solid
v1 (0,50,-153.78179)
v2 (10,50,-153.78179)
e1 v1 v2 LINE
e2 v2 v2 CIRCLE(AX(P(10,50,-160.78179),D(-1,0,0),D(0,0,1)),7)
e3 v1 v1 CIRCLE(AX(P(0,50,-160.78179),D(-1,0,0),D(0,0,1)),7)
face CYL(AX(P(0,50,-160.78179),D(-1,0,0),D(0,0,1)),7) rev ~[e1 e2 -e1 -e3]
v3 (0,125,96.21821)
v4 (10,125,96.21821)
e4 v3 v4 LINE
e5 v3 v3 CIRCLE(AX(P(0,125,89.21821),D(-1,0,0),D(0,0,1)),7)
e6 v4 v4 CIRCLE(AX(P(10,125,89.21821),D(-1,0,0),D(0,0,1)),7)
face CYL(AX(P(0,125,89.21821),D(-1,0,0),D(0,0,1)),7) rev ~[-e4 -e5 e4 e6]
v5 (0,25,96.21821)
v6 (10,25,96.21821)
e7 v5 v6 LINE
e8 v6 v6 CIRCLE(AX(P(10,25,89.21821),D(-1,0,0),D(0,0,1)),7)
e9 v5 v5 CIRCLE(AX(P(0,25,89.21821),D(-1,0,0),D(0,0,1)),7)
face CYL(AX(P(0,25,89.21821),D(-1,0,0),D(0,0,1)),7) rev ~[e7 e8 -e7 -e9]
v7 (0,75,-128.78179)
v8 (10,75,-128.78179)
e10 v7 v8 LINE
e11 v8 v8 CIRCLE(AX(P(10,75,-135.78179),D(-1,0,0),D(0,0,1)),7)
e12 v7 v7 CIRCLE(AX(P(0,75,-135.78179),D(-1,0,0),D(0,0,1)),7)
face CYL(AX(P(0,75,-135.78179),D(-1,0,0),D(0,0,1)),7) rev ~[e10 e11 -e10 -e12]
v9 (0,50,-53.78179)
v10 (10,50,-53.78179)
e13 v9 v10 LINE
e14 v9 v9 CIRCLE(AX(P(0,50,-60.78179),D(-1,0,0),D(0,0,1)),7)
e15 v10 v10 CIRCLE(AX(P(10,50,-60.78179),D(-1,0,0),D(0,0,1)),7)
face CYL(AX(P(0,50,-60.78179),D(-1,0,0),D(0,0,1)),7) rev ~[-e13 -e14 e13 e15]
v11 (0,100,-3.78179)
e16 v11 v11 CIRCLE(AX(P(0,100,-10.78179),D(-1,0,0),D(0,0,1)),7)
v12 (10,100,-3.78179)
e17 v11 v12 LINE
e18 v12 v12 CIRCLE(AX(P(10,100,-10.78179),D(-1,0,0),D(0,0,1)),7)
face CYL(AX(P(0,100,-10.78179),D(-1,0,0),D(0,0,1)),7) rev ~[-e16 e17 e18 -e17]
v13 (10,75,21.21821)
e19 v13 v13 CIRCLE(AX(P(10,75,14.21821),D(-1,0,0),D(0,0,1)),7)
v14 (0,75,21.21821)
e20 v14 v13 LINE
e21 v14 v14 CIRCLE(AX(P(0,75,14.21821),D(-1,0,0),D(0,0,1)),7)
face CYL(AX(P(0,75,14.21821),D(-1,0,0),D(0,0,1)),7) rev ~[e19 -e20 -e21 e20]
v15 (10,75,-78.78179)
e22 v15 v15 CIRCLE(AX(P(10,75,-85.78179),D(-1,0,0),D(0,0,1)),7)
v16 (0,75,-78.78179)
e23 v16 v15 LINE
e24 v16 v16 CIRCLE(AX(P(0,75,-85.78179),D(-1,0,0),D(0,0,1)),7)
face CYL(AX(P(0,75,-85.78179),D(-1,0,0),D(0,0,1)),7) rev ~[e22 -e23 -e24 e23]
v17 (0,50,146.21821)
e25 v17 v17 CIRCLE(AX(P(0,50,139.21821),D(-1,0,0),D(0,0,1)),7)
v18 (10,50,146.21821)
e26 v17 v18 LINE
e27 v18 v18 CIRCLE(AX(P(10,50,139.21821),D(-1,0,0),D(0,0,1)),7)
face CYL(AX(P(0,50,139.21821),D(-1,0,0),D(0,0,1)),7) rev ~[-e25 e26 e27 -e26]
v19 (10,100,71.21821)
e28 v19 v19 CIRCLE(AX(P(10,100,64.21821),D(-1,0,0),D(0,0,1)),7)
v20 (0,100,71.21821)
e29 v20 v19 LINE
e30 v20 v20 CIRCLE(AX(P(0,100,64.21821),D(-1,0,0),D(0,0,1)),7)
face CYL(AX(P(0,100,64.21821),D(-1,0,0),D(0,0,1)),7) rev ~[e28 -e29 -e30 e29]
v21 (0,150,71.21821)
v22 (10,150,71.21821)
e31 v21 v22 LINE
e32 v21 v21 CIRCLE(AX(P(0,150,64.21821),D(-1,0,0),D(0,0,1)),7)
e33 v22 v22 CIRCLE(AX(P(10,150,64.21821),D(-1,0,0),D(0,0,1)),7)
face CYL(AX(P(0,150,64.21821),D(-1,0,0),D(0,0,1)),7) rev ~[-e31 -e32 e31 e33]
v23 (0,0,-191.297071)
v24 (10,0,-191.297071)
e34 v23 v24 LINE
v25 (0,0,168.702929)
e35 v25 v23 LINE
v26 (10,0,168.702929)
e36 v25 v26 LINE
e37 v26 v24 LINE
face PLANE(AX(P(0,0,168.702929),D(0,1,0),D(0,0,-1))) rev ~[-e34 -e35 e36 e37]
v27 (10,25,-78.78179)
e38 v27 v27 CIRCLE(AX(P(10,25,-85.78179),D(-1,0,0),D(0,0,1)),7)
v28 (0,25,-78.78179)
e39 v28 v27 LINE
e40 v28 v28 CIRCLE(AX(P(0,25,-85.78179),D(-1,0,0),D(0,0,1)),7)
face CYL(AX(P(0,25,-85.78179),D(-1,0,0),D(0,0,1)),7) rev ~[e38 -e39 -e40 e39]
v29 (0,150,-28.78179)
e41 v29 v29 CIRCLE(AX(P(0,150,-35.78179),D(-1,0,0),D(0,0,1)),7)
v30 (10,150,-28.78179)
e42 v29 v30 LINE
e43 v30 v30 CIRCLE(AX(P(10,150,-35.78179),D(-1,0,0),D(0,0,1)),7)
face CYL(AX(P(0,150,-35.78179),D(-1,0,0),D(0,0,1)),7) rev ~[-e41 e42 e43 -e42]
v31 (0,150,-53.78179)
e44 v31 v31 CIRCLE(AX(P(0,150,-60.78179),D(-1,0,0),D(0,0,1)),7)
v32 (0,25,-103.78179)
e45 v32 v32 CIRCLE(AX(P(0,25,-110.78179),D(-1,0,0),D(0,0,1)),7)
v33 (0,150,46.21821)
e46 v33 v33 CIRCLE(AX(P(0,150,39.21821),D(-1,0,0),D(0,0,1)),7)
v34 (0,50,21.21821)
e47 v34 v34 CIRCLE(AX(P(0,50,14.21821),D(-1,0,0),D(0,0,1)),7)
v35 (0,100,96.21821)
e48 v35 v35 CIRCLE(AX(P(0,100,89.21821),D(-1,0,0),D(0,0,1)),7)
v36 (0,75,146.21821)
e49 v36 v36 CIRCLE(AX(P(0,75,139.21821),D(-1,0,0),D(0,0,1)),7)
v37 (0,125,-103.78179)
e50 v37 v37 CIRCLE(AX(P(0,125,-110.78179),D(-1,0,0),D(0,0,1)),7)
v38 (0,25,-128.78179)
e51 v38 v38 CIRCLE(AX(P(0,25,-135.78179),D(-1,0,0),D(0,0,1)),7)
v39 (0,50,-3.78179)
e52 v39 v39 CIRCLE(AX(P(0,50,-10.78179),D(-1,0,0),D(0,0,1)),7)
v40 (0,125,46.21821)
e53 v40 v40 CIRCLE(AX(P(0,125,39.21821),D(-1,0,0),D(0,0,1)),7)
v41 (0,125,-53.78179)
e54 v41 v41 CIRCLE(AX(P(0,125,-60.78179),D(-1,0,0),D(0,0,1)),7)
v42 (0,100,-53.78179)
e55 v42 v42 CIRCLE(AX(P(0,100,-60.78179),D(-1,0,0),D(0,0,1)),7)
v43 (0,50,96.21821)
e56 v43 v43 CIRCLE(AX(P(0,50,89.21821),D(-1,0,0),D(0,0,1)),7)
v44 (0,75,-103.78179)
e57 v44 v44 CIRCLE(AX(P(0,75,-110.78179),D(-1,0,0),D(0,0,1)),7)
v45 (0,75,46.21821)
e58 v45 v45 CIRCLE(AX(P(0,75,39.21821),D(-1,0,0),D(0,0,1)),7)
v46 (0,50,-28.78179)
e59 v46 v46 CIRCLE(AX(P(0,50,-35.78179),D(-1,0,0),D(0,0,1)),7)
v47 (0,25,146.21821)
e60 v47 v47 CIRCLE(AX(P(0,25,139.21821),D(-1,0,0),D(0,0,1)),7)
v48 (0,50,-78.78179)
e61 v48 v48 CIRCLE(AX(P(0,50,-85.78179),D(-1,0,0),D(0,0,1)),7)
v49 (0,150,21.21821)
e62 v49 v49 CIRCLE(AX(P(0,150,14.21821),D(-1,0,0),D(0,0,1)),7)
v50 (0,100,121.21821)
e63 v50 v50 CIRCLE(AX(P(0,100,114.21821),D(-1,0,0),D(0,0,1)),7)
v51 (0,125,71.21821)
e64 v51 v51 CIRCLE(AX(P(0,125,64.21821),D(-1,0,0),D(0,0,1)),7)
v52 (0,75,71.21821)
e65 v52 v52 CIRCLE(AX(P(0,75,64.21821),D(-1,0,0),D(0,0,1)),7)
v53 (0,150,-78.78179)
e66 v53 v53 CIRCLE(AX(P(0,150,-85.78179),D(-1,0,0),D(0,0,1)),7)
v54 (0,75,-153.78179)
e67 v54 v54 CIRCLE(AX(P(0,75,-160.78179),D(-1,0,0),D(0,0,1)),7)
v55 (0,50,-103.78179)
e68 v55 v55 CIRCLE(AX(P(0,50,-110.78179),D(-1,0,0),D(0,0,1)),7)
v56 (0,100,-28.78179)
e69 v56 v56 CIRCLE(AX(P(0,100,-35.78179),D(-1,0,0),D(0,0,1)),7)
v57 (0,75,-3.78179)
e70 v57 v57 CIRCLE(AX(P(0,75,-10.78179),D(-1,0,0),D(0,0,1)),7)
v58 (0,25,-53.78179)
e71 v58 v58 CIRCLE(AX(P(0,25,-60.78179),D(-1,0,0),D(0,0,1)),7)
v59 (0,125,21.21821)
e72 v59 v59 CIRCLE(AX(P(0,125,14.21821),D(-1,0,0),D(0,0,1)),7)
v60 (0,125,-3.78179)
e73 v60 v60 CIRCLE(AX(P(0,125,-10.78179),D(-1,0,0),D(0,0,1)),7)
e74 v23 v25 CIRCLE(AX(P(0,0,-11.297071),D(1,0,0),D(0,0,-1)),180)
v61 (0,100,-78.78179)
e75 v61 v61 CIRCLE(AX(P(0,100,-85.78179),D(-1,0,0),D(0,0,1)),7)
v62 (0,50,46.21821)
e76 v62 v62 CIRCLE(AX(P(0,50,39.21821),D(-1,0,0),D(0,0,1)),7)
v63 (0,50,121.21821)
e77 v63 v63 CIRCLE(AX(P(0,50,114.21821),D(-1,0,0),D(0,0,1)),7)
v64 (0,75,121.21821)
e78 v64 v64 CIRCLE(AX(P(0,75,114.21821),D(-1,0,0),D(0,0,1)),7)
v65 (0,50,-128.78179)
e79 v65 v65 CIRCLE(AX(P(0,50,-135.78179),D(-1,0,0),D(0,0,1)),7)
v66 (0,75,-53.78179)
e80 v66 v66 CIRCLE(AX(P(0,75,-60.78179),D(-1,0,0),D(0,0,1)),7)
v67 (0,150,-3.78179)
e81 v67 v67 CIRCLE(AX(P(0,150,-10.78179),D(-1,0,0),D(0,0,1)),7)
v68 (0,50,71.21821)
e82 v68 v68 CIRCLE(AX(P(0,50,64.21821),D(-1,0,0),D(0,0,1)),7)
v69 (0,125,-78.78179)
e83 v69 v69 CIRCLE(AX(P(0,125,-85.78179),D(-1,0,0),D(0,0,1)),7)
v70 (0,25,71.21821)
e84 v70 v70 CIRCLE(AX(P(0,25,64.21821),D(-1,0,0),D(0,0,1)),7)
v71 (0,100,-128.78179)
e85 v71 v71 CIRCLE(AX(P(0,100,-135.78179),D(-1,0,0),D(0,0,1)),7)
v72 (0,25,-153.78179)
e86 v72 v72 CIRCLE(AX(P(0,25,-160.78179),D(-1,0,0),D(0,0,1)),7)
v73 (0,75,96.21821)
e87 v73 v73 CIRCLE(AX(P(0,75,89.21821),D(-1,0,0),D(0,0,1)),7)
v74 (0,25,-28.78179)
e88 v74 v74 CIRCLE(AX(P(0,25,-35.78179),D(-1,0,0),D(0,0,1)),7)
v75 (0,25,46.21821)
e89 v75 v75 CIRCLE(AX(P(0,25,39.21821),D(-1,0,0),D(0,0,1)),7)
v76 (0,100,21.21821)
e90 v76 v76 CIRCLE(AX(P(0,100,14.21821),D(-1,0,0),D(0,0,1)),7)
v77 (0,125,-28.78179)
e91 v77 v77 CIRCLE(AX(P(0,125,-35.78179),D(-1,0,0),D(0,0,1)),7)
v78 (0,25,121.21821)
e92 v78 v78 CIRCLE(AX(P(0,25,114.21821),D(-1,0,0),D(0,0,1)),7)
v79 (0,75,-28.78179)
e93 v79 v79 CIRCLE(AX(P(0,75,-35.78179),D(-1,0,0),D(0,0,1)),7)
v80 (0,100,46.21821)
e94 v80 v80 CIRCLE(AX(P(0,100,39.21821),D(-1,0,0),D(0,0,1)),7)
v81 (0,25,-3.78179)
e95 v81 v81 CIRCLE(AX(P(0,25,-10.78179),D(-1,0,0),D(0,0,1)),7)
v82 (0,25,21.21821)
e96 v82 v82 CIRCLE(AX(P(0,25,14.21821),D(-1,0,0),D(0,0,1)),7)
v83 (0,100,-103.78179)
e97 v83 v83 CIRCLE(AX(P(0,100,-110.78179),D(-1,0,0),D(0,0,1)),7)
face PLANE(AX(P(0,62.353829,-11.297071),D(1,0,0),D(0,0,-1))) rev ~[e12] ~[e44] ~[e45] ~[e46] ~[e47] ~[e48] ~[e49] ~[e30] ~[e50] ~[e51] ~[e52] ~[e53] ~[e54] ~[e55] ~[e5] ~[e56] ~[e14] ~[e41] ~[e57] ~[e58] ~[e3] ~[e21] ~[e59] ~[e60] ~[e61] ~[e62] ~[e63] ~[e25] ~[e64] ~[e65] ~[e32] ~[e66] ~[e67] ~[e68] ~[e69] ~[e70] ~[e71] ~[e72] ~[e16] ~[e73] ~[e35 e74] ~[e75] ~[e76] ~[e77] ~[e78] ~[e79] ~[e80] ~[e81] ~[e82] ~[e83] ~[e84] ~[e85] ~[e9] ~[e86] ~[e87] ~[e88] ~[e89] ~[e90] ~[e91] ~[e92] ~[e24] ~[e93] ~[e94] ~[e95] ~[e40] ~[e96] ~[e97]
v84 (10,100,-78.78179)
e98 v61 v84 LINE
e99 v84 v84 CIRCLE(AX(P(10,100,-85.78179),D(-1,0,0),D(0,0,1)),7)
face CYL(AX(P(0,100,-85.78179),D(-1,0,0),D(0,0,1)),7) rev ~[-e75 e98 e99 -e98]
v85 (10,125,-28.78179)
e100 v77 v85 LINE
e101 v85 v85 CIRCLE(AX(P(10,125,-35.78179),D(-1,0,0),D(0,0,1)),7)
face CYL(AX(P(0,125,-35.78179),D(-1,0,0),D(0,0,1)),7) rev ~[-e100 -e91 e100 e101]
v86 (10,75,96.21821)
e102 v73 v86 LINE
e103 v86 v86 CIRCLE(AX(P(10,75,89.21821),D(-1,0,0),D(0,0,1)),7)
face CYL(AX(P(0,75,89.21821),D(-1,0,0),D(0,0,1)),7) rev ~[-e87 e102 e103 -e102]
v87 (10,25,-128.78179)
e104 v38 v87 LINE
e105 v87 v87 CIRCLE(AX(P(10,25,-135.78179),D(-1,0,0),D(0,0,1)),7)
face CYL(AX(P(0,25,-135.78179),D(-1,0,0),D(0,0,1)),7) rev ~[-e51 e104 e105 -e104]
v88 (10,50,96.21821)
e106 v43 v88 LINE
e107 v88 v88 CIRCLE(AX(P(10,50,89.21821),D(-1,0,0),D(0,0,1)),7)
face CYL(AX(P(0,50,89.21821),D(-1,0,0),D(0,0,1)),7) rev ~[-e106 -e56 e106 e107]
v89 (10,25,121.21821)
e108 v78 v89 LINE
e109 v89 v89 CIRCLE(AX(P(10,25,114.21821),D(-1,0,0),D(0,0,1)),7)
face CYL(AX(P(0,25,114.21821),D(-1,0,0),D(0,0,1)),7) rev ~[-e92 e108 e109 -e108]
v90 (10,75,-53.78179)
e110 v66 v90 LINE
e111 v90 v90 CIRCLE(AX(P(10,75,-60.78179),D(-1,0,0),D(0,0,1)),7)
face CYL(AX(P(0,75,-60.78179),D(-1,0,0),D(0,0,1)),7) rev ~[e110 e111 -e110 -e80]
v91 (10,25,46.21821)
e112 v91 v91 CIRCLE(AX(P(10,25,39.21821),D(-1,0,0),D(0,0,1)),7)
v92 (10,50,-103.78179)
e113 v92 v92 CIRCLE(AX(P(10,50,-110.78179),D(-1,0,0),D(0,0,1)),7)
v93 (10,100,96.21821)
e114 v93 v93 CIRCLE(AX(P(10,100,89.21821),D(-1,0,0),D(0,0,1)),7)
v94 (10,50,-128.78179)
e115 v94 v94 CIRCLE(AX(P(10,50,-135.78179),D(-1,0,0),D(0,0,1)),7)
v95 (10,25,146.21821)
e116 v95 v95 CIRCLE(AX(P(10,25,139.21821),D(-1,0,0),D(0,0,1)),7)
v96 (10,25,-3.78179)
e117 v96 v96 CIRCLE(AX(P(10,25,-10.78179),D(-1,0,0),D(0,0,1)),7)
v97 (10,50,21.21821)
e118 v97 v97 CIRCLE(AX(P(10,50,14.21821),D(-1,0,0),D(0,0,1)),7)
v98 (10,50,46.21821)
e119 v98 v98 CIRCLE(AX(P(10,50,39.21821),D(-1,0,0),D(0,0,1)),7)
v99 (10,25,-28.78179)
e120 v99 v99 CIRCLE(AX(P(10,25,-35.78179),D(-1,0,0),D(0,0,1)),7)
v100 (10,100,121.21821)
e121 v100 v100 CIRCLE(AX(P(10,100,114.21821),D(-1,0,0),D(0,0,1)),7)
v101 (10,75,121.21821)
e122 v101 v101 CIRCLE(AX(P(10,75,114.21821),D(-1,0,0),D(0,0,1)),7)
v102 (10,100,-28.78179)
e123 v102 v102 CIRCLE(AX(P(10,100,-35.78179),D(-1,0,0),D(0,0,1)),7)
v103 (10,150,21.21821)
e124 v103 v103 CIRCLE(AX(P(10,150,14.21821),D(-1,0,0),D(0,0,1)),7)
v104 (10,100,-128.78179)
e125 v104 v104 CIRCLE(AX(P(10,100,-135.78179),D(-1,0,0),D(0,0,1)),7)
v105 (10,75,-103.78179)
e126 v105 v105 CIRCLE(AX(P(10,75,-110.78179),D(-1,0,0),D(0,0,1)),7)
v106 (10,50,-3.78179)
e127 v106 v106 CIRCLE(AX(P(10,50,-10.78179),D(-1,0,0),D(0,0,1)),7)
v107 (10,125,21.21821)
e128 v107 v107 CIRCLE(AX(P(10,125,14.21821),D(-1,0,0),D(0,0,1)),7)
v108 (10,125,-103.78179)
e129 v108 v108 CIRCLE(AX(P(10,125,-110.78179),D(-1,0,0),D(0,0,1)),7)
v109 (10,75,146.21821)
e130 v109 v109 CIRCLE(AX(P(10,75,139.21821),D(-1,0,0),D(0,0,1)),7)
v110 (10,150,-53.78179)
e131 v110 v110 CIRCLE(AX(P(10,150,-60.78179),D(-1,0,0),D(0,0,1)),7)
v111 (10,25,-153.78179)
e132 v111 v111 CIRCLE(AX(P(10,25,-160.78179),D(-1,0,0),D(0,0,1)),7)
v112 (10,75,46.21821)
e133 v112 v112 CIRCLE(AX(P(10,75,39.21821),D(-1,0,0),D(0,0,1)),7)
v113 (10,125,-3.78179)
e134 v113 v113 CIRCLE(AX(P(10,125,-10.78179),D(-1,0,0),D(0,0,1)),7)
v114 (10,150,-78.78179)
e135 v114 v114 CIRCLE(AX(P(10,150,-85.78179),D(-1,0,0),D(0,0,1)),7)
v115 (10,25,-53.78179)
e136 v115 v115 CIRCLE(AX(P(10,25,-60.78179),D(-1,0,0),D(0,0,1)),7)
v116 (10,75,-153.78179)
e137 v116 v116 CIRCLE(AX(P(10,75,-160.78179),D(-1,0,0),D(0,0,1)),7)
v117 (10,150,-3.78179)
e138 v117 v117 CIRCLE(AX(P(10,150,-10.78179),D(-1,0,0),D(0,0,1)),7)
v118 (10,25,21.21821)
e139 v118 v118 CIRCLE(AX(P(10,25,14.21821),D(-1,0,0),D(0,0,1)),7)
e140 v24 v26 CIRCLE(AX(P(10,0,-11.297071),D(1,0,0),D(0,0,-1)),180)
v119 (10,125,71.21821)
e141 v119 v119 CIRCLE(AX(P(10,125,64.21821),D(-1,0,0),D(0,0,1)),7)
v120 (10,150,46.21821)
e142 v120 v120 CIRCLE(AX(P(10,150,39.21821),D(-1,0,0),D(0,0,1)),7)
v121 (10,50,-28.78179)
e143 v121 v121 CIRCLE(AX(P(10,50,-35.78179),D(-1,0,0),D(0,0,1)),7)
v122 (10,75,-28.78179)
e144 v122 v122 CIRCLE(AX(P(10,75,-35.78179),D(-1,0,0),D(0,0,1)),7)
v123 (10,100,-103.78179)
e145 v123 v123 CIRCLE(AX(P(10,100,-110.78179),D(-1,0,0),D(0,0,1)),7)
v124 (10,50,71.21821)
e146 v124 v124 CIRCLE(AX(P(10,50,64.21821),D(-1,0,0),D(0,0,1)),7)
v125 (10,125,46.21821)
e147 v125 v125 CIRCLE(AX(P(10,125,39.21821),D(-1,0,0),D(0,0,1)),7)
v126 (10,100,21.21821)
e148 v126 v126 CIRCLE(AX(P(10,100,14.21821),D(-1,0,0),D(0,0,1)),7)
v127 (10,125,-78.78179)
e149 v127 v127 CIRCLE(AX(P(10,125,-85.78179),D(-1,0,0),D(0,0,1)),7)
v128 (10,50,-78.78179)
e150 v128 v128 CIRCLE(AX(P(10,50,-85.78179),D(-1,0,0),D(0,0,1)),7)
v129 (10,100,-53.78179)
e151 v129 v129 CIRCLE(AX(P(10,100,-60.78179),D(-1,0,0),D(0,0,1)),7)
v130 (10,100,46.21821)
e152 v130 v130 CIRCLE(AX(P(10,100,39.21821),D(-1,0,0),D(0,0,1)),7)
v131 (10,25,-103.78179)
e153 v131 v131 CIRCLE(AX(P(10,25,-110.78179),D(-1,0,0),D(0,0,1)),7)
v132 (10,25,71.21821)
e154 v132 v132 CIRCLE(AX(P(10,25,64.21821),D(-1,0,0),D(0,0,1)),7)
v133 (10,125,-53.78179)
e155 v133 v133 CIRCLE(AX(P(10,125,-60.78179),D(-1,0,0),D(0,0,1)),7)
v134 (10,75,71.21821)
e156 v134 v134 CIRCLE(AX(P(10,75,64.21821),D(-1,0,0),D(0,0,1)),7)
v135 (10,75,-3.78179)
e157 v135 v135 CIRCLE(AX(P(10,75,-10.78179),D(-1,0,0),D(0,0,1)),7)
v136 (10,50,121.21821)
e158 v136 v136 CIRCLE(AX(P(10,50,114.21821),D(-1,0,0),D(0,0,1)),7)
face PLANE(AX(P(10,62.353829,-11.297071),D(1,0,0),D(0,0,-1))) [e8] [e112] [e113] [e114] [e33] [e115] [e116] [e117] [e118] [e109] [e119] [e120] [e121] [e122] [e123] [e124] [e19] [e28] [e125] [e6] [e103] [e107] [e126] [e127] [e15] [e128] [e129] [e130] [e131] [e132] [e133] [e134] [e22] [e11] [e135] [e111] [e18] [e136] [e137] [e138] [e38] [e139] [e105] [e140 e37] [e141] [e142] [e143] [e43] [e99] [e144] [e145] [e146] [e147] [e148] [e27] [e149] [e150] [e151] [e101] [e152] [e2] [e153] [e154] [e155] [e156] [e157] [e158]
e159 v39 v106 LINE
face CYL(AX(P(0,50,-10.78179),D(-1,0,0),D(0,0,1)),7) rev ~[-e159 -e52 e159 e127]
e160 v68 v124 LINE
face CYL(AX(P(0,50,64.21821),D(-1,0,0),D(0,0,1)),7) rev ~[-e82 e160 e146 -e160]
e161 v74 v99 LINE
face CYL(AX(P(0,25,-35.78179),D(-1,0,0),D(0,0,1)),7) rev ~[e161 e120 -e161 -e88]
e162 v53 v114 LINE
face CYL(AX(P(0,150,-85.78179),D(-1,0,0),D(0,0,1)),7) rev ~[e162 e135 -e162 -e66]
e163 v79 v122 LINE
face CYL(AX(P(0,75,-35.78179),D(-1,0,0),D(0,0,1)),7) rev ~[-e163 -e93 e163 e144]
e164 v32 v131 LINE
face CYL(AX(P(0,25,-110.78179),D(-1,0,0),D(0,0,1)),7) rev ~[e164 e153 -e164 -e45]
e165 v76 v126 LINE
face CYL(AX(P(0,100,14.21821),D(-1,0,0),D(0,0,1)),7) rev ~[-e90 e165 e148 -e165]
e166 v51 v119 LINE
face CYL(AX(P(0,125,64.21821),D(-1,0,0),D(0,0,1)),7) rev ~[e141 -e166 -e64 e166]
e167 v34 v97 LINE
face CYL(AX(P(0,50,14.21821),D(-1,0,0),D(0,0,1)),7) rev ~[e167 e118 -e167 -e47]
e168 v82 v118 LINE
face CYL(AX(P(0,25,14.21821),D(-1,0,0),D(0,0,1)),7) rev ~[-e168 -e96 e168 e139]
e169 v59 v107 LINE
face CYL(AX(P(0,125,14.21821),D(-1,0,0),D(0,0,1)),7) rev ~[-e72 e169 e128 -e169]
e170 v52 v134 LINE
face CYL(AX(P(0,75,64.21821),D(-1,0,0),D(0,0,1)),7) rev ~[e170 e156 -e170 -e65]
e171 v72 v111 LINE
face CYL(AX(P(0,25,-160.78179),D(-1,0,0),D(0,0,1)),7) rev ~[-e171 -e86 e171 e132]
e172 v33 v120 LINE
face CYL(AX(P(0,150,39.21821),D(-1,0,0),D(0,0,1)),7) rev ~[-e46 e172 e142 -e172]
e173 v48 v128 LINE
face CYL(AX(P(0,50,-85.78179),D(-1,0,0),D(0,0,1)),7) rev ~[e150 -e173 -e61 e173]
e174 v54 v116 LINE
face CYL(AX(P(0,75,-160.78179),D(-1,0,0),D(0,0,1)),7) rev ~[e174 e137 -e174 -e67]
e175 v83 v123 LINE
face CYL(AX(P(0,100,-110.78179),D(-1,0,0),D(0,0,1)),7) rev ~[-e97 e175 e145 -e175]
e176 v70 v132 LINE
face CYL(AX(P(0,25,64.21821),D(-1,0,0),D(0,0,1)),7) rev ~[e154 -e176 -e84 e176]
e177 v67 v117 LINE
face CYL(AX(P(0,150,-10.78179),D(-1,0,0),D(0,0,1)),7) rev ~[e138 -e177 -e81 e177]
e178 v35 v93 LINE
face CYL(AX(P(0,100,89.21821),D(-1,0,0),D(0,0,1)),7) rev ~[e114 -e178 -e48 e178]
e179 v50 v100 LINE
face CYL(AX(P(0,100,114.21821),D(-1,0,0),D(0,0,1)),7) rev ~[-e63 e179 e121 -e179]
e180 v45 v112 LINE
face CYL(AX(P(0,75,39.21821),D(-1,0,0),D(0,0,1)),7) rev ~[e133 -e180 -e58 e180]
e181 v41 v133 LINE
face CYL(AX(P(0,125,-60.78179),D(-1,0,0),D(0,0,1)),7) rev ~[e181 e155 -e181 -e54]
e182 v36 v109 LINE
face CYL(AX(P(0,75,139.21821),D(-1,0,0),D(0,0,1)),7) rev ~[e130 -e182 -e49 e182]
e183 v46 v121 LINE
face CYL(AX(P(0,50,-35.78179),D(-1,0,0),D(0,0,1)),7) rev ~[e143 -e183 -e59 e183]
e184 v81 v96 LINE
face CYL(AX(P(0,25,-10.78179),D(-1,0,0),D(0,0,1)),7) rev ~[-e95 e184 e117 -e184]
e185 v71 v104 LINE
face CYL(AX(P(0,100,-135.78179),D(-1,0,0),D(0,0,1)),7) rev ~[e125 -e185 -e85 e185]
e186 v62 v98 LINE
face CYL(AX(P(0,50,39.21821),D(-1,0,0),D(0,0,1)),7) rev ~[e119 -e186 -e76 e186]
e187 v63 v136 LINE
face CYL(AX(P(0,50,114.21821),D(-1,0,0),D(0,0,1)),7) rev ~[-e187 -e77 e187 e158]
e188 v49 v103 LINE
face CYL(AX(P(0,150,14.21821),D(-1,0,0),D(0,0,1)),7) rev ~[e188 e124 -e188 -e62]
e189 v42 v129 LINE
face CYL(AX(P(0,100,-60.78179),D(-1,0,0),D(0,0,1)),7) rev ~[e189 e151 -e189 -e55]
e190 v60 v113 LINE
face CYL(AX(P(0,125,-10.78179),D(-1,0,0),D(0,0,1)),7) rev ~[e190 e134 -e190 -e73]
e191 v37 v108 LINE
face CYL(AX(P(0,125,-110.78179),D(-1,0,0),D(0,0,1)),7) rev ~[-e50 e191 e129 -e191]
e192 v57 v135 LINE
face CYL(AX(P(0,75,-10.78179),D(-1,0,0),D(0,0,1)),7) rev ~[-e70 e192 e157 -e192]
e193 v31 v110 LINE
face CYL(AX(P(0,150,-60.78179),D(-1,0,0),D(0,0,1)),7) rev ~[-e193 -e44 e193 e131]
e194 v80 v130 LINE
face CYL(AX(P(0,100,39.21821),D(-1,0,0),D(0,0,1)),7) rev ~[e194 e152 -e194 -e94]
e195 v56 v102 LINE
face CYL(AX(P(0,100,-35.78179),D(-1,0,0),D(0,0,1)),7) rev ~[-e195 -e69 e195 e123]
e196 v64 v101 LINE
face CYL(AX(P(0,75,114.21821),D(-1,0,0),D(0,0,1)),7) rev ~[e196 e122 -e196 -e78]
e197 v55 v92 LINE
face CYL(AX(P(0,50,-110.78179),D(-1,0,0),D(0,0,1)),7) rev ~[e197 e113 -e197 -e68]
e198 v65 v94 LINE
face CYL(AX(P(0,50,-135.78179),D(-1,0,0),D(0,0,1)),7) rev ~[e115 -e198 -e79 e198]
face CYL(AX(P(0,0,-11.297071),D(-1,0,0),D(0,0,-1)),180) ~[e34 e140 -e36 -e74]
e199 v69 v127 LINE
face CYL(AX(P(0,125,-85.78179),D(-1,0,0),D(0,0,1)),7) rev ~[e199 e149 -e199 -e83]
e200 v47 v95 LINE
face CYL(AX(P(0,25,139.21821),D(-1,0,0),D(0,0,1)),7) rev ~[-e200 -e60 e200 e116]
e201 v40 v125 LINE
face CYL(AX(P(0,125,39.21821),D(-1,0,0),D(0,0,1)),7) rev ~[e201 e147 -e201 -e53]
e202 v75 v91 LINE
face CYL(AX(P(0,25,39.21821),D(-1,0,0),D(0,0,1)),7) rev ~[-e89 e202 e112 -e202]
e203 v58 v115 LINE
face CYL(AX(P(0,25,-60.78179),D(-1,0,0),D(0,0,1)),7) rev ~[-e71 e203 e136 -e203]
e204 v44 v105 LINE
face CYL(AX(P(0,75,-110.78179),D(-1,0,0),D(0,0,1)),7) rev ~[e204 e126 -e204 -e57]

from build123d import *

# Parameters (mm, degrees)
BOSS_EXTRUDE2_DEPTH = 10
SKETCH4_R           = 7
CUT_EXTRUDE2_DEPTH  = 10


with BuildPart() as part:
    # Sketch3 → Boss-Extrude2 (new body)
    with BuildSketch(Plane(origin=(0, 0, 0), x_dir=(0, 0, -1), z_dir=(1, 0, 0))):
        with BuildLine():
            Line((-168.70292887, 0), (191.29707113, 0))
            ThreePointArc((191.29707113, 0), (11.29707113, 180), (-168.70292887, 0))
        make_face()
    extrude(amount=BOSS_EXTRUDE2_DEPTH)

    # Sketch4 → Cut-Extrude2 (cut)
    with BuildSketch(Plane.ZY):
        with Locations((-160.781790175, 25)):
            Circle(SKETCH4_R)
        with Locations((-135.781790175, 25)):
            Circle(SKETCH4_R)
        with Locations((-110.781790175, 25)):
            Circle(SKETCH4_R)
        with Locations((-85.781790175, 25)):
            Circle(SKETCH4_R)
        with Locations((-60.781790175, 25)):
            Circle(SKETCH4_R)
        with Locations((-35.781790175, 25)):
            Circle(SKETCH4_R)
        with Locations((-10.781790175, 25)):
            Circle(SKETCH4_R)
        with Locations((14.218209825, 25)):
            Circle(SKETCH4_R)
        with Locations((39.218209825, 25)):
            Circle(SKETCH4_R)
        with Locations((64.218209825, 25)):
            Circle(SKETCH4_R)
        with Locations((89.218209825, 25)):
            Circle(SKETCH4_R)
        with Locations((114.218209825, 25)):
            Circle(SKETCH4_R)
        with Locations((139.218209825, 25)):
            Circle(SKETCH4_R)
        with Locations((-135.781790175, 50)):
            Circle(SKETCH4_R)
        with Locations((-110.781790175, 50)):
            Circle(SKETCH4_R)
        with Locations((-85.781790175, 50)):
            Circle(SKETCH4_R)
        with Locations((-60.781790175, 50)):
            Circle(SKETCH4_R)
        with Locations((-35.781790175, 50)):
            Circle(SKETCH4_R)
        with Locations((-10.781790175, 50)):
            Circle(SKETCH4_R)
        with Locations((14.218209825, 50)):
            Circle(SKETCH4_R)
        with Locations((39.218209825, 50)):
            Circle(SKETCH4_R)
        with Locations((64.218209825, 50)):
            Circle(SKETCH4_R)
        with Locations((89.218209825, 50)):
            Circle(SKETCH4_R)
        with Locations((114.218209825, 50)):
            Circle(SKETCH4_R)
        with Locations((139.218209825, 50)):
            Circle(SKETCH4_R)
        with Locations((-135.781790175, 75)):
            Circle(SKETCH4_R)
        with Locations((-110.781790175, 75)):
            Circle(SKETCH4_R)
        with Locations((-85.781790175, 75)):
            Circle(SKETCH4_R)
        with Locations((-60.781790175, 75)):
            Circle(SKETCH4_R)
        with Locations((-35.781790175, 75)):
            Circle(SKETCH4_R)
        with Locations((-10.781790175, 75)):
            Circle(SKETCH4_R)
        with Locations((14.218209825, 75)):
            Circle(SKETCH4_R)
        with Locations((39.218209825, 75)):
            Circle(SKETCH4_R)
        with Locations((64.218209825, 75)):
            Circle(SKETCH4_R)
        with Locations((89.218209825, 75)):
            Circle(SKETCH4_R)
        with Locations((114.218209825, 75)):
            Circle(SKETCH4_R)
        with Locations((139.218209825, 75)):
            Circle(SKETCH4_R)
        with Locations((-135.781790175, 100)):
            Circle(SKETCH4_R)
        with Locations((-110.781790175, 100)):
            Circle(SKETCH4_R)
        with Locations((-85.781790175, 100)):
            Circle(SKETCH4_R)
        with Locations((-60.781790175, 100)):
            Circle(SKETCH4_R)
        with Locations((-35.781790175, 100)):
            Circle(SKETCH4_R)
        with Locations((-10.781790175, 100)):
            Circle(SKETCH4_R)
        with Locations((14.218209825, 100)):
            Circle(SKETCH4_R)
        with Locations((39.218209825, 100)):
            Circle(SKETCH4_R)
        with Locations((64.218209825, 100)):
            Circle(SKETCH4_R)
        with Locations((89.218209825, 100)):
            Circle(SKETCH4_R)
        with Locations((114.218209825, 100)):
            Circle(SKETCH4_R)
        with Locations((-110.781790175, 125)):
            Circle(SKETCH4_R)
        with Locations((-85.781790175, 125)):
            Circle(SKETCH4_R)
        with Locations((-60.781790175, 125)):
            Circle(SKETCH4_R)
        with Locations((-35.781790175, 125)):
            Circle(SKETCH4_R)
        with Locations((-10.781790175, 125)):
            Circle(SKETCH4_R)
        with Locations((14.218209825, 125)):
            Circle(SKETCH4_R)
        with Locations((39.218209825, 125)):
            Circle(SKETCH4_R)
        with Locations((64.218209825, 125)):
            Circle(SKETCH4_R)
        with Locations((89.218209825, 125)):
            Circle(SKETCH4_R)
        with Locations((-85.781790175, 150)):
            Circle(SKETCH4_R)
        with Locations((-60.781790175, 150)):
            Circle(SKETCH4_R)
        with Locations((-35.781790175, 150)):
            Circle(SKETCH4_R)
        with Locations((-10.781790175, 150)):
            Circle(SKETCH4_R)
        with Locations((14.218209825, 150)):
            Circle(SKETCH4_R)
        with Locations((39.218209825, 150)):
            Circle(SKETCH4_R)
        with Locations((64.218209825, 150)):
            Circle(SKETCH4_R)
        with Locations((-160.781790175, 50)):
            Circle(SKETCH4_R)
        with Locations((-160.781790175, 75)):
            Circle(SKETCH4_R)
    extrude(amount=-CUT_EXTRUDE2_DEPTH, mode=Mode.SUBTRACT)


solid = part.part
